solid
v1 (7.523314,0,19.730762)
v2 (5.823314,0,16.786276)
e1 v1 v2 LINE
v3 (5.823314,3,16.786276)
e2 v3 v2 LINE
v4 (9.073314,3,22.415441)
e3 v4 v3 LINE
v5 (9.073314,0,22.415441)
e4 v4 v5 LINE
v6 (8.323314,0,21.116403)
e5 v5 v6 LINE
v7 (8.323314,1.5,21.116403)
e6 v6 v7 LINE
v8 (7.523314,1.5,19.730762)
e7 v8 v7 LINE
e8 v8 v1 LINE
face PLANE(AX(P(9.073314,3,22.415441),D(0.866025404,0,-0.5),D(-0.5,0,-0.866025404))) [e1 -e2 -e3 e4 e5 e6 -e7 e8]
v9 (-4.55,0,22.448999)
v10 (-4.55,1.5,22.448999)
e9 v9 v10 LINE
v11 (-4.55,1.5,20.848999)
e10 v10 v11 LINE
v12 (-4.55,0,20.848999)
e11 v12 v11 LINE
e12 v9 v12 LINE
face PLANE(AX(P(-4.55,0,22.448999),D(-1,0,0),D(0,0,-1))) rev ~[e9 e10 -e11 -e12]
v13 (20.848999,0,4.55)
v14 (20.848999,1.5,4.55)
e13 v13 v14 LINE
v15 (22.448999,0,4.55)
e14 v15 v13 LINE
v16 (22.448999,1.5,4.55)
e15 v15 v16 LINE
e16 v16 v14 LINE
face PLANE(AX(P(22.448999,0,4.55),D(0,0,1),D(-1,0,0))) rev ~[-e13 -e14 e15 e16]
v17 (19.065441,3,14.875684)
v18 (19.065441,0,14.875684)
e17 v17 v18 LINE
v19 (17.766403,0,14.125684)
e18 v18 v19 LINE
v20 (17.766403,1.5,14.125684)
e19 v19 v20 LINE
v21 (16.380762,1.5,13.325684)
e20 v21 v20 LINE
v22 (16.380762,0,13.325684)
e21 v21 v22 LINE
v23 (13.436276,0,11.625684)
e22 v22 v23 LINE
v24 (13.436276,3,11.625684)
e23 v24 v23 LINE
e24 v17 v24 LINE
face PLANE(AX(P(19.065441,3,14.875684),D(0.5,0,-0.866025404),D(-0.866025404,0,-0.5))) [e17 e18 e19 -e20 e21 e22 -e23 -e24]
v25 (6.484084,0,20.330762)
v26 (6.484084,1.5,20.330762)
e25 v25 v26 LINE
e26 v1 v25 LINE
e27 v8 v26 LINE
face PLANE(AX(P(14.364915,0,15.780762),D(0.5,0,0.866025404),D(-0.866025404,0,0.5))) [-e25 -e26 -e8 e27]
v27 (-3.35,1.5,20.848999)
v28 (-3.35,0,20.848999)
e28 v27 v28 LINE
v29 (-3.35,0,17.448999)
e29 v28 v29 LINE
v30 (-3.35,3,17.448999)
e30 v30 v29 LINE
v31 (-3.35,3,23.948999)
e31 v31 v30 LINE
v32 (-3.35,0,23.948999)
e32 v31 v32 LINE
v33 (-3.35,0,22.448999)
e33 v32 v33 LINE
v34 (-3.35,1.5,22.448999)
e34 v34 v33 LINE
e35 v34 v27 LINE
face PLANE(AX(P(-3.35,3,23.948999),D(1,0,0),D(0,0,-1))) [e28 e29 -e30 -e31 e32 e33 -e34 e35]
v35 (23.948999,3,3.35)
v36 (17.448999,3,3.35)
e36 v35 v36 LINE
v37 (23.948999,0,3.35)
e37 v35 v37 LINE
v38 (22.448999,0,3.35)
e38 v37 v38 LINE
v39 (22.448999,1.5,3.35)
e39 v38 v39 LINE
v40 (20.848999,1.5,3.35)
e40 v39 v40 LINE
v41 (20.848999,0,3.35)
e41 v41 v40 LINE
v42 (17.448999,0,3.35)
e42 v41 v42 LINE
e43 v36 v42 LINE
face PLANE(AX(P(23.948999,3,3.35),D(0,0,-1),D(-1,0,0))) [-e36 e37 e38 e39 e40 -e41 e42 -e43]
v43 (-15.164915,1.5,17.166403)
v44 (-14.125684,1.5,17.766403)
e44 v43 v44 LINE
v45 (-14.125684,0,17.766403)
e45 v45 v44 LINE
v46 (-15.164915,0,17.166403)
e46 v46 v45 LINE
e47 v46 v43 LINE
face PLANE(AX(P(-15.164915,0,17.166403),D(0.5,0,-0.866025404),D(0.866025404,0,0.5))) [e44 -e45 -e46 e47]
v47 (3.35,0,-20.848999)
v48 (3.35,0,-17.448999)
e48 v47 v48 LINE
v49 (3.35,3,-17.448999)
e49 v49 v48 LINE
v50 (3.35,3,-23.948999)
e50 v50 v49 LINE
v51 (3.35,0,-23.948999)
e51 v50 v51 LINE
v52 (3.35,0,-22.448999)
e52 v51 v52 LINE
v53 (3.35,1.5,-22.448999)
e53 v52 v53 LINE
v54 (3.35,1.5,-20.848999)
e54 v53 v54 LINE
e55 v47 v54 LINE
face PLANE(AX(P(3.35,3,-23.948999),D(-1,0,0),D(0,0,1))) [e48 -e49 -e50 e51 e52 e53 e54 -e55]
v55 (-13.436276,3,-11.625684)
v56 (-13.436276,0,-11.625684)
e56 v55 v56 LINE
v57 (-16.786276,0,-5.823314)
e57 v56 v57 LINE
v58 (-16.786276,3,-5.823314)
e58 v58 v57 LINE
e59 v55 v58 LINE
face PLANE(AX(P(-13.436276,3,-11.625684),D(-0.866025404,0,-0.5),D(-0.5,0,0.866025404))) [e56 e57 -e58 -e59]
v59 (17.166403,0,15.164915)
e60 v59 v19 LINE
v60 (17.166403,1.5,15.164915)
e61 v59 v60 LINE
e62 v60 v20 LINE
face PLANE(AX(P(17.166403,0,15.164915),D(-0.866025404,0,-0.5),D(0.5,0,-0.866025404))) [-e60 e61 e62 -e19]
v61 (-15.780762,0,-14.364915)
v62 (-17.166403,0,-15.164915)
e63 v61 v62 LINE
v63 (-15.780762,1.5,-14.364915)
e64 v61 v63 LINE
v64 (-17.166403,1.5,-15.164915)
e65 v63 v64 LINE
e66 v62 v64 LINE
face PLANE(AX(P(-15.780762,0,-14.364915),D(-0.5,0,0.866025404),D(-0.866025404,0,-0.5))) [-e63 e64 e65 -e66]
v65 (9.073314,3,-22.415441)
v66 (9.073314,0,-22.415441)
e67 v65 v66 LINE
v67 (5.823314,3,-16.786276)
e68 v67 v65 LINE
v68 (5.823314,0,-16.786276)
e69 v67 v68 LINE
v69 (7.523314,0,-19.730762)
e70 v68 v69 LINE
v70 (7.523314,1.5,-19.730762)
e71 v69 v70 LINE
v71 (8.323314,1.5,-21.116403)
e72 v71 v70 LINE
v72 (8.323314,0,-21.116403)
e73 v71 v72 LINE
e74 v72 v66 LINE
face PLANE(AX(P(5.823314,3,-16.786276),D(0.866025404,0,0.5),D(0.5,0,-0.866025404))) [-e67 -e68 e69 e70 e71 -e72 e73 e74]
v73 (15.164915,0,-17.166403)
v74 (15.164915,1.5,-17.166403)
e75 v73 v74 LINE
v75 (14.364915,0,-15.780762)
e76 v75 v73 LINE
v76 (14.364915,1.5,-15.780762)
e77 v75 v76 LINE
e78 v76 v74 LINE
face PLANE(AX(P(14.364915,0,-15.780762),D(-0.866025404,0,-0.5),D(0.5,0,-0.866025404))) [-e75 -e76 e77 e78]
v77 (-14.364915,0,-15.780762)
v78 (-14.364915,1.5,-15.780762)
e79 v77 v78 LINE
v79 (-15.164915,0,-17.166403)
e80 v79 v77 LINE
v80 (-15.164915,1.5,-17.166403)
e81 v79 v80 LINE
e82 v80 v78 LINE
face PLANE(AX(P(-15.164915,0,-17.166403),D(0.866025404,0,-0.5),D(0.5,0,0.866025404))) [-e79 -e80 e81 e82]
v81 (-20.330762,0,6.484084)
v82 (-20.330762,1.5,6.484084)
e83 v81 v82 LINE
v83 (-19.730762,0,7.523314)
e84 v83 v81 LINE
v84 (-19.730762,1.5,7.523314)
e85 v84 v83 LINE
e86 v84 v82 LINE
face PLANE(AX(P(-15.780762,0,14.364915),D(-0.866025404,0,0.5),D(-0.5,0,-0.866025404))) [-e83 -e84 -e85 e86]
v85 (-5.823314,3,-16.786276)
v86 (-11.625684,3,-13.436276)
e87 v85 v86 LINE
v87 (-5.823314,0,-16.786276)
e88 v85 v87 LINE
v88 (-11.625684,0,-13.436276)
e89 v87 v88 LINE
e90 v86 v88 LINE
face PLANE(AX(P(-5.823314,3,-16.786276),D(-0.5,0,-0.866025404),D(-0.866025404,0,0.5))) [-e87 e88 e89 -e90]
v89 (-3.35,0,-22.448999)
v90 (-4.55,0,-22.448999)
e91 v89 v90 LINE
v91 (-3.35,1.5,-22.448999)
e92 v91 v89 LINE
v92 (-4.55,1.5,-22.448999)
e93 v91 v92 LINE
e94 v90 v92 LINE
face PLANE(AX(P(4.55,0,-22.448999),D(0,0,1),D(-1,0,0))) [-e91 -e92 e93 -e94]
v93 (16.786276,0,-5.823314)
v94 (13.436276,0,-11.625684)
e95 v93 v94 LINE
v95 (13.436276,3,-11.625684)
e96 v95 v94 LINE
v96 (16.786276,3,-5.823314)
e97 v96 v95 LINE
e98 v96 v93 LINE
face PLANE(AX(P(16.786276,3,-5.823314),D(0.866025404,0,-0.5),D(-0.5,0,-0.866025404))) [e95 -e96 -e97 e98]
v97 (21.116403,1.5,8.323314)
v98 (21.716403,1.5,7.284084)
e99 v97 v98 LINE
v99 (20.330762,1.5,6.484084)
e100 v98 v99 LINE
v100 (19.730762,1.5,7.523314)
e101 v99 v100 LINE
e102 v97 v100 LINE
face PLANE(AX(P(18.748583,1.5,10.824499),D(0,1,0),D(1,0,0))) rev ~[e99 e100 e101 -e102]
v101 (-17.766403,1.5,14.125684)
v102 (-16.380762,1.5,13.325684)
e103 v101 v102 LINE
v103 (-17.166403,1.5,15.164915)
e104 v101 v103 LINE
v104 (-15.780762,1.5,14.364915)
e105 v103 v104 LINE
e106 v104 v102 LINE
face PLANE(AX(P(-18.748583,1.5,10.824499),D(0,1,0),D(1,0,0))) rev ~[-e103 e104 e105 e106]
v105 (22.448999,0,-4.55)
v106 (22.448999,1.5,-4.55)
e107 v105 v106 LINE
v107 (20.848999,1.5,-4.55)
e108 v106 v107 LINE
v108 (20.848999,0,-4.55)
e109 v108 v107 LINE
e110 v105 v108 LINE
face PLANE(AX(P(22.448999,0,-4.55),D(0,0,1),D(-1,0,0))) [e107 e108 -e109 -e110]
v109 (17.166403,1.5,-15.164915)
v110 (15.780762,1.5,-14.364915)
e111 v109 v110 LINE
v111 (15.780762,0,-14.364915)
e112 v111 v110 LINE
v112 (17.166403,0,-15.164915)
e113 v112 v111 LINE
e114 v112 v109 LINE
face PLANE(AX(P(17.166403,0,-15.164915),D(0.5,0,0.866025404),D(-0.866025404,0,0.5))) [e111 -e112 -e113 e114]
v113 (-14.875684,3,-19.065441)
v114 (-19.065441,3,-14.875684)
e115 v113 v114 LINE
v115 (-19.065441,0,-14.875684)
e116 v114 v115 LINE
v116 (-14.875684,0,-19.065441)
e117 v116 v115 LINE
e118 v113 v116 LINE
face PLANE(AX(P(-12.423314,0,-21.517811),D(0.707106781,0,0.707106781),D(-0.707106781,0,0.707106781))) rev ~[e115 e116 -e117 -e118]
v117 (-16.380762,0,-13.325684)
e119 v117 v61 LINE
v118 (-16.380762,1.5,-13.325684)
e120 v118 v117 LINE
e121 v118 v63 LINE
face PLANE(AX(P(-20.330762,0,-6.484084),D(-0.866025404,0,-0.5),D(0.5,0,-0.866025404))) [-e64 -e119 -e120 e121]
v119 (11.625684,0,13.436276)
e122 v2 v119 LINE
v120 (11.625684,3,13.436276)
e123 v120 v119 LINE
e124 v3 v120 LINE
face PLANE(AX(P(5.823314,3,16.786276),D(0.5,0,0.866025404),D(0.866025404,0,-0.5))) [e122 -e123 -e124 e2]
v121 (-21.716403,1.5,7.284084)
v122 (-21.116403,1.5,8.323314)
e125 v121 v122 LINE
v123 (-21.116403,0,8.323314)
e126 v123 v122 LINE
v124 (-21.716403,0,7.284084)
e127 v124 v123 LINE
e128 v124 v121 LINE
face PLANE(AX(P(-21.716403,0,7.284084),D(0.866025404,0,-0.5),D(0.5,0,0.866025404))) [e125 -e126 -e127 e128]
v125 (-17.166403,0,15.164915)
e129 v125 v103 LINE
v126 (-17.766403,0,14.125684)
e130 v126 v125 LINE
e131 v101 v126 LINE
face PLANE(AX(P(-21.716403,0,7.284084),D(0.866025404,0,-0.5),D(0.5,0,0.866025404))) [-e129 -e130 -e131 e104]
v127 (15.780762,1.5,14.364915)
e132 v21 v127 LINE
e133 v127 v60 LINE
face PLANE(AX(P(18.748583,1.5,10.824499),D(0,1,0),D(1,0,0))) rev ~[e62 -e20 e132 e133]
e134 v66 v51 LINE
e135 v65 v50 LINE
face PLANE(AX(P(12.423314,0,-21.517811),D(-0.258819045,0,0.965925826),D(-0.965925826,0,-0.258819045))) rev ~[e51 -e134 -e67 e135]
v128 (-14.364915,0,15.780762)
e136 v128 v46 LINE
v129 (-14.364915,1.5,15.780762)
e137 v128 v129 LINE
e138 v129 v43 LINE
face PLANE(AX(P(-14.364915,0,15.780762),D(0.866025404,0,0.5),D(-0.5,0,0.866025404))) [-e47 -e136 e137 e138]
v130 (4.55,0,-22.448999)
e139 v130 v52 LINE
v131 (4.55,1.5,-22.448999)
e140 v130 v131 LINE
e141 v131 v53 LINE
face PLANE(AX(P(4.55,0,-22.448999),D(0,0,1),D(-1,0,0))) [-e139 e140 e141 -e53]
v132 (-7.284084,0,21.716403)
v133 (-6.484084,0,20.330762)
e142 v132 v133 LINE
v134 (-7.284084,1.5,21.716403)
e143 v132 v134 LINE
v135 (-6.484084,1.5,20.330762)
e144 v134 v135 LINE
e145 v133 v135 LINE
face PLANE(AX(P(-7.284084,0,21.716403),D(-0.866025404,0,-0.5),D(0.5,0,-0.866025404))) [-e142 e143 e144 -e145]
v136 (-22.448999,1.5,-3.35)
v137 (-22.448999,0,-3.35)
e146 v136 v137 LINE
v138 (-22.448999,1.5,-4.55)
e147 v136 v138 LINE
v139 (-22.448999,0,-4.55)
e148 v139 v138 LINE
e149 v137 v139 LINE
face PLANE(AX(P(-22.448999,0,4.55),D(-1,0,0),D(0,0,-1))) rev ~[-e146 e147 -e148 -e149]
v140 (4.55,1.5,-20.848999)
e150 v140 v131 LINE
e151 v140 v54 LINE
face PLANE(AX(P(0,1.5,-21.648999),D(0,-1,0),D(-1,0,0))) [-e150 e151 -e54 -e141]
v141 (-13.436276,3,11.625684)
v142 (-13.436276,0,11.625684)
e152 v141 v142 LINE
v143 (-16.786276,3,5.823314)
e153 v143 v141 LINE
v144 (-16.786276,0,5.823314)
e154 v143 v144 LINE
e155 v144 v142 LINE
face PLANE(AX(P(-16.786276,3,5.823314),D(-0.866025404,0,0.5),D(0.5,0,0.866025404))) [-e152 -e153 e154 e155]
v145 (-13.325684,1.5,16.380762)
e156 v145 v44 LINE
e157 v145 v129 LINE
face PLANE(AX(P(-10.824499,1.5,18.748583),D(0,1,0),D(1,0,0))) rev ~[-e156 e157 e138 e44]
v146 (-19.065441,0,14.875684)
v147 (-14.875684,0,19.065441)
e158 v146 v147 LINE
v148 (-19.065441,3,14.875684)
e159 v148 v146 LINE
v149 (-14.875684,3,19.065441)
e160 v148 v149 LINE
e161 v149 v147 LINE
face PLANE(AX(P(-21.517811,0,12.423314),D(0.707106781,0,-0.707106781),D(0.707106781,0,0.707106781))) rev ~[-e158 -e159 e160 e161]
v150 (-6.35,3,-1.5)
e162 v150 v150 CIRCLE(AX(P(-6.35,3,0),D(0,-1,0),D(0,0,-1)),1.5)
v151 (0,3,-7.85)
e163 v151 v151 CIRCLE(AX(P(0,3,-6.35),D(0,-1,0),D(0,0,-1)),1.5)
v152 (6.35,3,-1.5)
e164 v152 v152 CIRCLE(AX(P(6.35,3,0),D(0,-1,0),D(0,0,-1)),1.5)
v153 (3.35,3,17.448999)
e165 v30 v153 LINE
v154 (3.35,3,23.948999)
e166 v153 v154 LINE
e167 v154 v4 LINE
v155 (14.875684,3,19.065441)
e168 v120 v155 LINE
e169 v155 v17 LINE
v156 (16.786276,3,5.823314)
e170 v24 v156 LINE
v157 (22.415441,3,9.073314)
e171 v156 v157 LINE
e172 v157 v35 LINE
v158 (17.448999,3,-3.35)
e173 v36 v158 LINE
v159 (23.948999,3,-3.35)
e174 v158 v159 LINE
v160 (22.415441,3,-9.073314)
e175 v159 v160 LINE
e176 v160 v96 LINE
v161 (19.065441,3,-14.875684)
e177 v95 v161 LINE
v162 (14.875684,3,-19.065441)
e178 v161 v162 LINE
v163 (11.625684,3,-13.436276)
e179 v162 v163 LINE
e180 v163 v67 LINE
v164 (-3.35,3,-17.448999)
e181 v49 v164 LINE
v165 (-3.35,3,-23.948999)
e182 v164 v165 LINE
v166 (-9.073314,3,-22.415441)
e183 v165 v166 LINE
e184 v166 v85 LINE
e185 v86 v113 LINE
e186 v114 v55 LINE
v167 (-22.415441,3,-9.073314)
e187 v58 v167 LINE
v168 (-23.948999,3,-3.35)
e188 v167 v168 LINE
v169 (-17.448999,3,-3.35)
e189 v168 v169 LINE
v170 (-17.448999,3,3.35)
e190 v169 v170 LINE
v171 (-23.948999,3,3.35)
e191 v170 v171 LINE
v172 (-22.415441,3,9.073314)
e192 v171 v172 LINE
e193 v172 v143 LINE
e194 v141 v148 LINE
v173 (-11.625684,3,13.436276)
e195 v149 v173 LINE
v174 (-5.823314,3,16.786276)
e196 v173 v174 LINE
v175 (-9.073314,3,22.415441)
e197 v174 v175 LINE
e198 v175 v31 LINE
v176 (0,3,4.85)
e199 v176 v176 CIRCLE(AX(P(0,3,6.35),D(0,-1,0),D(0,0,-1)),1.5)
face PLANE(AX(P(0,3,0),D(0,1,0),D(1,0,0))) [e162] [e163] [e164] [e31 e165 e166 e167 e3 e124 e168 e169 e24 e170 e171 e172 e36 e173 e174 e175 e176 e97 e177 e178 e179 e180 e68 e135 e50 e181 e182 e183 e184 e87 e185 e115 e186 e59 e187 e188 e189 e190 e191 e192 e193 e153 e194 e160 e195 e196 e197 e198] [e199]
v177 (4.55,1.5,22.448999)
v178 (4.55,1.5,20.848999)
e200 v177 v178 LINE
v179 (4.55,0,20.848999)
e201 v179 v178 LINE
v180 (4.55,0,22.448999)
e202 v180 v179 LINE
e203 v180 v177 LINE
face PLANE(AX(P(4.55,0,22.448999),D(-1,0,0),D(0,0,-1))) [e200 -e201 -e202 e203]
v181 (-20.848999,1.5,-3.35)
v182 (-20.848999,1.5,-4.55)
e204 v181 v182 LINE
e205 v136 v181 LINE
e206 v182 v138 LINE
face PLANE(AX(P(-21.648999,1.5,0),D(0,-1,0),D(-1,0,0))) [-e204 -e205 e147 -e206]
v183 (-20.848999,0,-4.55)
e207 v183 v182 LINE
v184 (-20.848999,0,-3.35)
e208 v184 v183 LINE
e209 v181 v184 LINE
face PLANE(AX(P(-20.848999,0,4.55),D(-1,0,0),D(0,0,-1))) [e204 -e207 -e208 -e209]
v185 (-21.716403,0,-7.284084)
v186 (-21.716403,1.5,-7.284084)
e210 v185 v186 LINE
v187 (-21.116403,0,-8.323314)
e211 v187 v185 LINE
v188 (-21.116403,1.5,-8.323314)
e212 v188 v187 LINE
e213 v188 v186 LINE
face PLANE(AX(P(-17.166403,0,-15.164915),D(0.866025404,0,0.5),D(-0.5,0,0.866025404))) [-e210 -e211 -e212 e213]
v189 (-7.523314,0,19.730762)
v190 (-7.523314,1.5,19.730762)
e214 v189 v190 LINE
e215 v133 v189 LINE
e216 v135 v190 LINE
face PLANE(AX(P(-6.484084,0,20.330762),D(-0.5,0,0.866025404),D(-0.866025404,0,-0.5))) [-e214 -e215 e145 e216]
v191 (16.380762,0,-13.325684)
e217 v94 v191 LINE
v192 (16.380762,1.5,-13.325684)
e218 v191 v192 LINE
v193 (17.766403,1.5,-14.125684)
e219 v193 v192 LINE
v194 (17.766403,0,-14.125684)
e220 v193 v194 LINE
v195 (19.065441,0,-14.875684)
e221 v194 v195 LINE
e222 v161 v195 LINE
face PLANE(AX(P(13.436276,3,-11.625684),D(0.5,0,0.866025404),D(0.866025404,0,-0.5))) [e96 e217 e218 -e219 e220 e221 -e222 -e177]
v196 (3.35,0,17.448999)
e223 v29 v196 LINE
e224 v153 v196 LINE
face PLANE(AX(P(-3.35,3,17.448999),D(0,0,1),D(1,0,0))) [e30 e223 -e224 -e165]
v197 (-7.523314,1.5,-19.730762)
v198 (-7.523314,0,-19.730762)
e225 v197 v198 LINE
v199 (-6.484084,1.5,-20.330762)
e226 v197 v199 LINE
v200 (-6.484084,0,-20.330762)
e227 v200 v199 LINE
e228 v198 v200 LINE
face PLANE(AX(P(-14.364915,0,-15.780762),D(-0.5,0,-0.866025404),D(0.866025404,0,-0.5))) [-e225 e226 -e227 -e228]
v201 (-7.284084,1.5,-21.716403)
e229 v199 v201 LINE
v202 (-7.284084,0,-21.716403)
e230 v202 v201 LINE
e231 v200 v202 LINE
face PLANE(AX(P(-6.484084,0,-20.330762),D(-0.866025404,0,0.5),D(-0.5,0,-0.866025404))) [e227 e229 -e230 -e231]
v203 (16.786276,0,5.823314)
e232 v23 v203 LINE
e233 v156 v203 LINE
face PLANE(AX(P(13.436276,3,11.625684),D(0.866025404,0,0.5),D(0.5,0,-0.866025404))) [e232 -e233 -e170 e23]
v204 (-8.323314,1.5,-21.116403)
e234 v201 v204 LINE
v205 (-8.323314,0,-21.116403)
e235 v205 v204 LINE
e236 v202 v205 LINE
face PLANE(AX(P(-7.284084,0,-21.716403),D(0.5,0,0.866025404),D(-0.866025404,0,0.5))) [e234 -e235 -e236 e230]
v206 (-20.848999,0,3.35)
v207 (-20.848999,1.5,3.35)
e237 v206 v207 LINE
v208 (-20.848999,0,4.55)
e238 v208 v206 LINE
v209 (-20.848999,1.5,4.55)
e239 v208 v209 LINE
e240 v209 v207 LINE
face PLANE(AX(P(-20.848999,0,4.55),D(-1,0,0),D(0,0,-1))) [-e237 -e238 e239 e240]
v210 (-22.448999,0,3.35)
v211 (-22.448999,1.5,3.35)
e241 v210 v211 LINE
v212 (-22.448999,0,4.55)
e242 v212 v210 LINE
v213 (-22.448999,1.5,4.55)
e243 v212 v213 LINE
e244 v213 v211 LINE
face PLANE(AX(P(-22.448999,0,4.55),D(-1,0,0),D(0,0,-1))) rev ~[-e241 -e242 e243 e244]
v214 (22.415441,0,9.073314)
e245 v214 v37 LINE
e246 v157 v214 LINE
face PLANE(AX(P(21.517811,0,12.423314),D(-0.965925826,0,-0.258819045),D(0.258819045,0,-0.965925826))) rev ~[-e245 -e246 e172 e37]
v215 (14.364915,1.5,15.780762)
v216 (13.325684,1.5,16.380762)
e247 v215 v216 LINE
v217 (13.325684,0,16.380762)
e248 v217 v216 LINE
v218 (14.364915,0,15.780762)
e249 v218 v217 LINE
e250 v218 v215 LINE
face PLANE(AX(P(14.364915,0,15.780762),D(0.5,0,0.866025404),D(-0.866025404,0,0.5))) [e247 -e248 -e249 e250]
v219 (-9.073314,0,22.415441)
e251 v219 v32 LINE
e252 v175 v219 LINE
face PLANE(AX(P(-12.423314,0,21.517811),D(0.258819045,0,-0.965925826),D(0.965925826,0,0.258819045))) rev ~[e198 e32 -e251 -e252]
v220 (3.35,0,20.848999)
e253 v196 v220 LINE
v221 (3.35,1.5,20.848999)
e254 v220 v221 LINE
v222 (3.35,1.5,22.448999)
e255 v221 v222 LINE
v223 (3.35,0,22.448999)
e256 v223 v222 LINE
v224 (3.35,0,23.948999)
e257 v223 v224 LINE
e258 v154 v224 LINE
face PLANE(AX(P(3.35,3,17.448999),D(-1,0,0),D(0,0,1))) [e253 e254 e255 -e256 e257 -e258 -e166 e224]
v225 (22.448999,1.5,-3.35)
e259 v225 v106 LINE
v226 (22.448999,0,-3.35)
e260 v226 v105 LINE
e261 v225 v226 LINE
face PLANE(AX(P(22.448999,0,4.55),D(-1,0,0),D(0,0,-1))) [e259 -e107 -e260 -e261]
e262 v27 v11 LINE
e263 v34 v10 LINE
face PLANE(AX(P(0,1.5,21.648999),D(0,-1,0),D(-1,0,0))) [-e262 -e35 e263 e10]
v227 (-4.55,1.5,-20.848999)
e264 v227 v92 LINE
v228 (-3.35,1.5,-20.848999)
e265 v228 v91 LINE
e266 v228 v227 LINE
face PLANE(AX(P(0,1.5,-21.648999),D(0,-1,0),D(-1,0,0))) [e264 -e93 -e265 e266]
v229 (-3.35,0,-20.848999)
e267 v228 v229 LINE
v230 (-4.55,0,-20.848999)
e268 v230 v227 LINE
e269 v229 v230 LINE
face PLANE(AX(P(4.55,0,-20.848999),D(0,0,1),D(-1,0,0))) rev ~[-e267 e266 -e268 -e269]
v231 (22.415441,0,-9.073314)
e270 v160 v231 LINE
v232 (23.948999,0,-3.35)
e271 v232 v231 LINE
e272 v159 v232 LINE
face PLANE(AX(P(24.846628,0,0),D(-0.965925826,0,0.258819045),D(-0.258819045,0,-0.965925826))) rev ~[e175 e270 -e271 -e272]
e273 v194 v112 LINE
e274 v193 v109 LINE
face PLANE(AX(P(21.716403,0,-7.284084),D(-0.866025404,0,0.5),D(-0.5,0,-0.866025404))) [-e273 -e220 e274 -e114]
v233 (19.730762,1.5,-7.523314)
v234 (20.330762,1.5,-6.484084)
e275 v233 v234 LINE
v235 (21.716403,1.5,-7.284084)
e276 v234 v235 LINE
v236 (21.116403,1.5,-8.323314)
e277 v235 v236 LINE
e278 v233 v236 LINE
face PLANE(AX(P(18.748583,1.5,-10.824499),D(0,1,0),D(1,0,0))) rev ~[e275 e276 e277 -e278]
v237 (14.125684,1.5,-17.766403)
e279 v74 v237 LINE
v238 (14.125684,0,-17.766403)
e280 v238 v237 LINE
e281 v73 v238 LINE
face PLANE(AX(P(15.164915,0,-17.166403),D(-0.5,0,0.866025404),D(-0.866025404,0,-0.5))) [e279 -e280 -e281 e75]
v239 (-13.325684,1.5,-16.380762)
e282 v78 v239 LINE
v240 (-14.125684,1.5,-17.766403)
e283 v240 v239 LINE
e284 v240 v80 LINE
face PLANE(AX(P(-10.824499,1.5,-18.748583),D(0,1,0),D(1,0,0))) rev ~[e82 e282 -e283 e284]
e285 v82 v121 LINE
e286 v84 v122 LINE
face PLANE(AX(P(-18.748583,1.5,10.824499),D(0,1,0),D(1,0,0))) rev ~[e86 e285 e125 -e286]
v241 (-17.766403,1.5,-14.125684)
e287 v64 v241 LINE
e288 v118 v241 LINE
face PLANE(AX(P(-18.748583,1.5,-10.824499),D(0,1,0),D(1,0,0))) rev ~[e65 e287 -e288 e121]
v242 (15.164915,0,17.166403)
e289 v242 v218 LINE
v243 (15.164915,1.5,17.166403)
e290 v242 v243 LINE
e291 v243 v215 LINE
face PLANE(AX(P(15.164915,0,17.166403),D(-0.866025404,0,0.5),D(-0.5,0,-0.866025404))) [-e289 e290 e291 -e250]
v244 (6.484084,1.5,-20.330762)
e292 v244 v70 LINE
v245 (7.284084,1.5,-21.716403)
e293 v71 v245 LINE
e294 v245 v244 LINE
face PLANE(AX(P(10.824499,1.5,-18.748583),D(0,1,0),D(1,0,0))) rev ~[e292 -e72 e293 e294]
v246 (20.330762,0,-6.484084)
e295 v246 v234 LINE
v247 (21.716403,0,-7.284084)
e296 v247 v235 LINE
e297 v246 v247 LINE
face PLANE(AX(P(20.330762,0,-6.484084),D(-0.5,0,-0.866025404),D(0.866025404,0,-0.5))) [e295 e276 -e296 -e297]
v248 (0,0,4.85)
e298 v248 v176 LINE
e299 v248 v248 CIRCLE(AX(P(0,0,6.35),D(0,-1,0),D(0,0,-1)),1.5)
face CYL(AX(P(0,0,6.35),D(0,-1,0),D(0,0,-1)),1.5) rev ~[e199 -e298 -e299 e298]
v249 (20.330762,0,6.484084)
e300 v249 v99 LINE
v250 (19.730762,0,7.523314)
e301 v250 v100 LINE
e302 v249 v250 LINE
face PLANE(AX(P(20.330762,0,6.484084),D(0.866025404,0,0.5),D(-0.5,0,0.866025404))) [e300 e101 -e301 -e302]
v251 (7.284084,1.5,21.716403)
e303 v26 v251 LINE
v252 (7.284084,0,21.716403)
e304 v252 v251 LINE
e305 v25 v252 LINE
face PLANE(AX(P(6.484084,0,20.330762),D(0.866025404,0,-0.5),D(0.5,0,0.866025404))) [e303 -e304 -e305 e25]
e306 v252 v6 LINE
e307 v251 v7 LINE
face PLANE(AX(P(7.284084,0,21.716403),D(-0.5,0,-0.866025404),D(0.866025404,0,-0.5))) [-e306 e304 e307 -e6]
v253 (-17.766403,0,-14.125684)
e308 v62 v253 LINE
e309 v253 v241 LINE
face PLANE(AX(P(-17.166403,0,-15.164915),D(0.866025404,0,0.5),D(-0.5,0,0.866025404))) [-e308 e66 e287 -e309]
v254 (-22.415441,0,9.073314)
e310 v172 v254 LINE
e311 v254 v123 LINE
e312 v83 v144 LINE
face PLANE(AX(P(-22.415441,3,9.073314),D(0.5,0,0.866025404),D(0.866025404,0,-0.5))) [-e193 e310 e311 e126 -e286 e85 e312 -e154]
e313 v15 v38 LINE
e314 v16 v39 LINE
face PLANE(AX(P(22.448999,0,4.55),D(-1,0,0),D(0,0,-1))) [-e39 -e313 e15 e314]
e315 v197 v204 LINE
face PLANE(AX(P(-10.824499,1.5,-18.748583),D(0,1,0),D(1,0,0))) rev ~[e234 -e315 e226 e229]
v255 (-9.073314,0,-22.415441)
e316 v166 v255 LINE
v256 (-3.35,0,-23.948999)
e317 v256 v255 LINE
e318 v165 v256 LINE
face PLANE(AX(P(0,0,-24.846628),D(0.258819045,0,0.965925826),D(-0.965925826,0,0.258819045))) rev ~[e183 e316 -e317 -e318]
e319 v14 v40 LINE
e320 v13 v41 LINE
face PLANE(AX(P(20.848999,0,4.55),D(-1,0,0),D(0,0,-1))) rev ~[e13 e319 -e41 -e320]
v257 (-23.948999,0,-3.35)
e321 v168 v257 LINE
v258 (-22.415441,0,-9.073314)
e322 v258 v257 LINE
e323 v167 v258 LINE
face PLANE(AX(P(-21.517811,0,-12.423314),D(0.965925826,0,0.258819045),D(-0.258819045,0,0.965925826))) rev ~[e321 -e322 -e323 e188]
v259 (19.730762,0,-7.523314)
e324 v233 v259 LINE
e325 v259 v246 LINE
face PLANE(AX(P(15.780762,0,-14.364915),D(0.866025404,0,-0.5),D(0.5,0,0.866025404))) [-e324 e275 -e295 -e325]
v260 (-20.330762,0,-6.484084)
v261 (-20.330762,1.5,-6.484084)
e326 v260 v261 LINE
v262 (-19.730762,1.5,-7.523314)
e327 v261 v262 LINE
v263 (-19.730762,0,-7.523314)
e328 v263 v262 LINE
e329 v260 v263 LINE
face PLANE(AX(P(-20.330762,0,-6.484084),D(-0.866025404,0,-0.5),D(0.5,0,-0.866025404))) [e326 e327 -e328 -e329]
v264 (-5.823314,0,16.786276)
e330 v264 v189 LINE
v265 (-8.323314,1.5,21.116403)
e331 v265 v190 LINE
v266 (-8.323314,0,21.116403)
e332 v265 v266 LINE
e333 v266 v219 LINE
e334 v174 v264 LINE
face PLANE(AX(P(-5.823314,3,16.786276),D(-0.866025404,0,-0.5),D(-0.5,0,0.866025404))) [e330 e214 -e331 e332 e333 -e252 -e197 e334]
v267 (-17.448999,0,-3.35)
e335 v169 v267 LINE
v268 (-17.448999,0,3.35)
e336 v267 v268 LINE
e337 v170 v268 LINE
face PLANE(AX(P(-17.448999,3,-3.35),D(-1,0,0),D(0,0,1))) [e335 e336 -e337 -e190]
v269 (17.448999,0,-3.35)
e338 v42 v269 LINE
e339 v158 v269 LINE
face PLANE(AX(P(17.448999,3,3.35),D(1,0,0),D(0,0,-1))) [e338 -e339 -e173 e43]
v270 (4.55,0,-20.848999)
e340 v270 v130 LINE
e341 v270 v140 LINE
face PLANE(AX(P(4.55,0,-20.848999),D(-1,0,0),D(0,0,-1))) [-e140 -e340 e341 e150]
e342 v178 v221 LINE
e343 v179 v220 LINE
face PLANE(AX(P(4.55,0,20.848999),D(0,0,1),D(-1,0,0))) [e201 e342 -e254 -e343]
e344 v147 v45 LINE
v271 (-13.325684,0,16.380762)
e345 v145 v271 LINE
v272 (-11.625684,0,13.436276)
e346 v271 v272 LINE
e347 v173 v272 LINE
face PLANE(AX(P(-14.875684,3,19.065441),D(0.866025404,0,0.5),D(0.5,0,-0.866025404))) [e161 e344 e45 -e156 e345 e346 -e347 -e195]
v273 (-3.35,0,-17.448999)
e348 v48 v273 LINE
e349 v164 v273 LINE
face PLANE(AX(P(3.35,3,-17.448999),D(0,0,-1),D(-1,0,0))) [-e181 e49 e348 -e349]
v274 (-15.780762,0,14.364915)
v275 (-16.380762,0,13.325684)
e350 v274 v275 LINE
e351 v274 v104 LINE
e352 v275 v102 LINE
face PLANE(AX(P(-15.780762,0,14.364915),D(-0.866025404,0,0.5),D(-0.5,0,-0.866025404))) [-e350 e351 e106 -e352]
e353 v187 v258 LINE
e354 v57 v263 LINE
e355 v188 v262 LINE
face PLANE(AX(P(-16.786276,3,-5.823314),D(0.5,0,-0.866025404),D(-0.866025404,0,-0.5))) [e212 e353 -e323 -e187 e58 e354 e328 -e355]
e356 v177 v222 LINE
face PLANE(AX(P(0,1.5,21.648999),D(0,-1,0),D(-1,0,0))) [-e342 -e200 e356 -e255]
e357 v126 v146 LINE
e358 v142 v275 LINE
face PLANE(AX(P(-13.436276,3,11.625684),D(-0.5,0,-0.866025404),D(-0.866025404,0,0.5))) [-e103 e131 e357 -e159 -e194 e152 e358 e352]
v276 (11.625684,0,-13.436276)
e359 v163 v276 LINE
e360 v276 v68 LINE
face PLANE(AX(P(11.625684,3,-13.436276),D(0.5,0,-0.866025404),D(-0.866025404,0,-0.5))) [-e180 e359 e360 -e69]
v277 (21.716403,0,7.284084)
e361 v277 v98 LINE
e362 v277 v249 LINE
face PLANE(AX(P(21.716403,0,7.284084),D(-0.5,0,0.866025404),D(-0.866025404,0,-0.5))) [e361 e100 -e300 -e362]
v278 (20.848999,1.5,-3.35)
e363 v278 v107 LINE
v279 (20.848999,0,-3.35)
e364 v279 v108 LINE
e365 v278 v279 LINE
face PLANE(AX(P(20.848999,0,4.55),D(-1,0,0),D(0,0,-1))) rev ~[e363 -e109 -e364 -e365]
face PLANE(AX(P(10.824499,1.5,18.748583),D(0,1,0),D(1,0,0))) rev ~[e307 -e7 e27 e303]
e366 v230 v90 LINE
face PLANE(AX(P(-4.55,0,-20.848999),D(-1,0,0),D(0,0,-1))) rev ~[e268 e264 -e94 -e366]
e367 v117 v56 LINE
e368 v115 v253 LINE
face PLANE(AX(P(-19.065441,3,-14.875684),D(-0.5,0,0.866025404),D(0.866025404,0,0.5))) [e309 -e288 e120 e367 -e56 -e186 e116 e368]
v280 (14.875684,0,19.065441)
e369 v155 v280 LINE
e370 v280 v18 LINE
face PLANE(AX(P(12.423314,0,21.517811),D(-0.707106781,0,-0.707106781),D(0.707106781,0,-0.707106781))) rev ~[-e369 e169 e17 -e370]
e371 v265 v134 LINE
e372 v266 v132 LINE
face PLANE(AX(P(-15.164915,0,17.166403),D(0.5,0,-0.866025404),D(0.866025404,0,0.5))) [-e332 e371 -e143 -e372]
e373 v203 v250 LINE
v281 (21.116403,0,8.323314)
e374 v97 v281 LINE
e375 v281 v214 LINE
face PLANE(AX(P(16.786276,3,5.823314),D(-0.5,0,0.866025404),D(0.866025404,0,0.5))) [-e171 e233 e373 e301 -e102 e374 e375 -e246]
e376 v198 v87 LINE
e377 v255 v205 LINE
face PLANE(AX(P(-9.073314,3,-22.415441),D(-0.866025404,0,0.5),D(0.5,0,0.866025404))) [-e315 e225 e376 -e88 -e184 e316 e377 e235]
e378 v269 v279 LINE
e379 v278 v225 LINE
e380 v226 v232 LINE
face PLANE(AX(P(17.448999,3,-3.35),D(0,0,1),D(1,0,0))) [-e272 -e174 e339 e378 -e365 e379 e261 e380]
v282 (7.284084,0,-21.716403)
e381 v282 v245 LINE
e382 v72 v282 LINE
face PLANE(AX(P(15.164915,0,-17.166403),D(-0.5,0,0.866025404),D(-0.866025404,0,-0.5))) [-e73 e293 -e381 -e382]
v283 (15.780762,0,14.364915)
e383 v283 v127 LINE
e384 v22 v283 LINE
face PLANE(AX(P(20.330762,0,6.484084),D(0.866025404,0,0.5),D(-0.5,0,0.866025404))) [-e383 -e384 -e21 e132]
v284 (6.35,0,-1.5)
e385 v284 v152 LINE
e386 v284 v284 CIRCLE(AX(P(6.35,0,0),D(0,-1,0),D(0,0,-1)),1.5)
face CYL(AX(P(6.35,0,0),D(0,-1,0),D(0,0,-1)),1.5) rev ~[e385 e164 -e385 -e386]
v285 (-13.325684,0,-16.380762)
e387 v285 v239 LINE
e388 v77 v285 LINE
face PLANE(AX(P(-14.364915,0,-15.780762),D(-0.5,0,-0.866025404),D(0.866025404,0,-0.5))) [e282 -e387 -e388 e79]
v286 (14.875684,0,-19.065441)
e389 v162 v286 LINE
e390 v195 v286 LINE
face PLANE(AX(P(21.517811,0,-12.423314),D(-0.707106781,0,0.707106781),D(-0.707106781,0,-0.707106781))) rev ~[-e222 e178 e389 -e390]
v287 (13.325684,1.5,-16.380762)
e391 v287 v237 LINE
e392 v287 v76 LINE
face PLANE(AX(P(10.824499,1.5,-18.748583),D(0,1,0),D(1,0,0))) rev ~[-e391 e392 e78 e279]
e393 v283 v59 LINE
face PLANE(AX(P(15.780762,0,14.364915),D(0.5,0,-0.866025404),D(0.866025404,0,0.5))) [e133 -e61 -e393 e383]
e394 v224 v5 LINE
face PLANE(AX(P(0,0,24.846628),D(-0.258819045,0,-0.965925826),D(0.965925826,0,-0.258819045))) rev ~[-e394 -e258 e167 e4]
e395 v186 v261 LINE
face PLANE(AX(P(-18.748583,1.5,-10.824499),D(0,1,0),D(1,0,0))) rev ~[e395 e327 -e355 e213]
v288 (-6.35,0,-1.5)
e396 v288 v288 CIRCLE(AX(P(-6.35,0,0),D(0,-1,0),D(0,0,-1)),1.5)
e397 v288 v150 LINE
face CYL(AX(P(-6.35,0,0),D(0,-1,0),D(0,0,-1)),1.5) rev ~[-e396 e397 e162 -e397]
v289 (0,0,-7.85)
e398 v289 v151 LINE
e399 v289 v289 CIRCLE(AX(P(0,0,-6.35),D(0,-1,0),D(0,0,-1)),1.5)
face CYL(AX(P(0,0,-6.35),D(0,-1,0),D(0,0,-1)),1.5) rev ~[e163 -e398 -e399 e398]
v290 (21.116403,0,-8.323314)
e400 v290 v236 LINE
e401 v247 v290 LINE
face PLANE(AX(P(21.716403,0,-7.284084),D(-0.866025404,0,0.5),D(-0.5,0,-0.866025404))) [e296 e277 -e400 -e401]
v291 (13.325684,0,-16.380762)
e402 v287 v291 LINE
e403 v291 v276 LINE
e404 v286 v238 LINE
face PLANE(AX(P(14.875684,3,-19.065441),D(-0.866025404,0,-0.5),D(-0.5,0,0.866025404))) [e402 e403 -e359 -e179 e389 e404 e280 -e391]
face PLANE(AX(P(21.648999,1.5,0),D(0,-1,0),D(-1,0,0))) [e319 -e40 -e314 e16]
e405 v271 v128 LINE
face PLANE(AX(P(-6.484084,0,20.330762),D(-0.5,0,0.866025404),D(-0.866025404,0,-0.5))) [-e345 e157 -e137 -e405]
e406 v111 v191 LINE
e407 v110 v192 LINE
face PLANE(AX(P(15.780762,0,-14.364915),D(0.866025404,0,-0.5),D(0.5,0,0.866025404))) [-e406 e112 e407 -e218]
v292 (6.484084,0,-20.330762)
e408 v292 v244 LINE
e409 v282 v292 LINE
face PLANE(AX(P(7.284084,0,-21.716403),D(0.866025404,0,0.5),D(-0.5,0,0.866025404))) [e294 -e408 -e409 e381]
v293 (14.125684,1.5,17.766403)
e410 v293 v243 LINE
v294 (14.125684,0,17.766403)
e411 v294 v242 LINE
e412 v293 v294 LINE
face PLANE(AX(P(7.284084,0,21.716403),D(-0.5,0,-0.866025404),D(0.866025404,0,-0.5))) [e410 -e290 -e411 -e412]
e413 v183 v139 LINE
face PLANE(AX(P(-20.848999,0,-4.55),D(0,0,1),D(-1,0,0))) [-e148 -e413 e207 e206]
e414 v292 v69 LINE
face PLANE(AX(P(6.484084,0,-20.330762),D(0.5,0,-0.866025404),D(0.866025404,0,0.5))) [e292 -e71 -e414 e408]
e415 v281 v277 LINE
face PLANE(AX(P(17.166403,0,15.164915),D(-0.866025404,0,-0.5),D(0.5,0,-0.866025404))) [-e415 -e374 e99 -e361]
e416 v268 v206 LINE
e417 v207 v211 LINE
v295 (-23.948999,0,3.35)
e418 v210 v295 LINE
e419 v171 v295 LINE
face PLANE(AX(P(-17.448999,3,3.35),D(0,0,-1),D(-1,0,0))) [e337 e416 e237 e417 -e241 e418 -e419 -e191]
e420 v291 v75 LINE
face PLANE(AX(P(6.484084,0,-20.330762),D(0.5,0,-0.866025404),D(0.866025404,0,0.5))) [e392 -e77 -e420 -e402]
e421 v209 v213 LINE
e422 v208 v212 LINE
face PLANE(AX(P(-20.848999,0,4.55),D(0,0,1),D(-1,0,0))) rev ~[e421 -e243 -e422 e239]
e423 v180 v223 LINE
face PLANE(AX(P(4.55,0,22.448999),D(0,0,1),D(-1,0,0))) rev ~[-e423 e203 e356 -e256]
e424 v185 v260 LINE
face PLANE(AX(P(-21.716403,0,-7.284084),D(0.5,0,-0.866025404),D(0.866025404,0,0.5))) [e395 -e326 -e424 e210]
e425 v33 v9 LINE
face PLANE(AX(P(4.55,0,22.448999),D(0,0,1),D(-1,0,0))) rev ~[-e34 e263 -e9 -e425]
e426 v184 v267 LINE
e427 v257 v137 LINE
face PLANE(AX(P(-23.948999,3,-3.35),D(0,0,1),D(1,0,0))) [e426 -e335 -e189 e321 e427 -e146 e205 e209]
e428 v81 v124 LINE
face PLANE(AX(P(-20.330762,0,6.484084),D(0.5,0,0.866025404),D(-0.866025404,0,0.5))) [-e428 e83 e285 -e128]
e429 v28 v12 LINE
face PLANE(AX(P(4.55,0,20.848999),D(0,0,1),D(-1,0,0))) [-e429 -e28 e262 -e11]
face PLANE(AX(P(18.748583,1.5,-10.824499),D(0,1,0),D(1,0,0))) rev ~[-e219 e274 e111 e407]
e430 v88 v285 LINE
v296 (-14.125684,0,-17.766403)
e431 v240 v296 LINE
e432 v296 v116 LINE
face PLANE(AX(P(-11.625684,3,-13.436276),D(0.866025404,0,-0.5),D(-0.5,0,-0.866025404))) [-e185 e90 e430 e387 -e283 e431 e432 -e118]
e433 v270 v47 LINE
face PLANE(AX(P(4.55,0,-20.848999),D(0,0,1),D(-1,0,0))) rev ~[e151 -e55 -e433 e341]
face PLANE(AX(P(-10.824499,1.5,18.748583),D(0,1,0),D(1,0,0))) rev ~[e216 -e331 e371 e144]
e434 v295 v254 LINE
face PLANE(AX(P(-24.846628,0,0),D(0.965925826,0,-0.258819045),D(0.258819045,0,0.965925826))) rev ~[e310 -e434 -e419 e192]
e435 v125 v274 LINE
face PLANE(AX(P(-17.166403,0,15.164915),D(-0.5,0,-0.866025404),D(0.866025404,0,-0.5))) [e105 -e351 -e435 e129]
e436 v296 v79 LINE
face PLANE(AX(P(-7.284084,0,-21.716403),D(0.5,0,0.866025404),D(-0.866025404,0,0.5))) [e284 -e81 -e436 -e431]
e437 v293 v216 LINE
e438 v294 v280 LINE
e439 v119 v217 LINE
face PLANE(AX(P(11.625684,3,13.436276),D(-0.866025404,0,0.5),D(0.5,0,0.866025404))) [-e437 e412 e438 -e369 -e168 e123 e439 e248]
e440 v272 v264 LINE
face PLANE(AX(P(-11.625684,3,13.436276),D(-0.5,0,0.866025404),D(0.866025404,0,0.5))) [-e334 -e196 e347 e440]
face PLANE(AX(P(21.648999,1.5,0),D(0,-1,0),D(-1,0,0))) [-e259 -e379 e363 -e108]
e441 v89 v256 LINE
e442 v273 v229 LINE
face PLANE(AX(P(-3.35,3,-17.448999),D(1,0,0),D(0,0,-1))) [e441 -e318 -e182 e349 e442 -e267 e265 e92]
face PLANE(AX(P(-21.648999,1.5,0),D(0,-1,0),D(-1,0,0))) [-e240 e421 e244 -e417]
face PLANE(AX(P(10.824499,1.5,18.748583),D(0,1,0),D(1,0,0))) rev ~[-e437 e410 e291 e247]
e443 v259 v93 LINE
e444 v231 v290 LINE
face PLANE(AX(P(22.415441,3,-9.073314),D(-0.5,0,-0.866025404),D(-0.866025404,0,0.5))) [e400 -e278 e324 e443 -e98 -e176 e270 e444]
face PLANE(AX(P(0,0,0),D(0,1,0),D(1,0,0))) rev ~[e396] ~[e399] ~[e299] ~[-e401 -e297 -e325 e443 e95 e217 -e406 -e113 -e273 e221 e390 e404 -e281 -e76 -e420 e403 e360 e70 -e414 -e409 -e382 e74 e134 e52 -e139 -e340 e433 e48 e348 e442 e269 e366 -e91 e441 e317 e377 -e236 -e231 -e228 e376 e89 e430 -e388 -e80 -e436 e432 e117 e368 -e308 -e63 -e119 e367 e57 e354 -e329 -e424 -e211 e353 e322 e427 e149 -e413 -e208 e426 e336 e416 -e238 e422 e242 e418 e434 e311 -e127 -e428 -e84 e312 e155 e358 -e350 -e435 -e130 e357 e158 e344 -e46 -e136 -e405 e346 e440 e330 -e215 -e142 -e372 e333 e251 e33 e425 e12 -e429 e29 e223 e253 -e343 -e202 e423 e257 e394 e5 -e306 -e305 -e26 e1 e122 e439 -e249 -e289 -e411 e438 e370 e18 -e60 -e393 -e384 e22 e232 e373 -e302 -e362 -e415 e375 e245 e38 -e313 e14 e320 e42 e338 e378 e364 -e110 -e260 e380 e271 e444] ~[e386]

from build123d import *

# Parameters (mm, degrees)
BOSS_EXTRUDE1_DEPTH = 3
CUT_EXTRUDE1_DEPTH  = 3
SKETCH4_W           = 9.1
SKETCH4_H           = 1.6
SKETCH4_W_2         = 1.6
SKETCH4_H_2         = 9.1
CUT_EXTRUDE2_DEPTH  = 1.5
SKETCH7_R           = 1.5
CUT_EXTRUDE4_DEPTH  = 3


with BuildPart() as part:
    # Sketch2 → Boss-Extrude1 (new body)
    with BuildSketch(Plane(origin=(0, 0, 0), x_dir=(1, 0, 0), z_dir=(0, 1, 0))):
        Polygon((0, 24.84662833), (-12.423314165, 21.517811332), (-21.517811332, 12.423314165), (-24.84662833, 0), (-21.517811332, -12.423314165), (-12.423314165, -21.517811332), (0, -24.84662833), (12.423314165, -21.517811332), (21.517811332, -12.423314165), (24.84662833, 0), (21.517811332, 12.423314165), (12.423314165, 21.517811332), align=None)
    extrude(amount=BOSS_EXTRUDE1_DEPTH)

    # Sketch3 → Cut-Extrude1 (cut)
    with BuildSketch(Plane(origin=(0, 3, 0), x_dir=(1, 0, 0), z_dir=(0, 1, 0))):
        Polygon((-3.35, 23.948998535), (0, 24.84662833), (3.35, 23.948998535), (3.35, 17.448998535), (-3.35, 17.448998535), align=None)
        Polygon((5.823314165, 16.786276002), (9.073314165, 22.415441127), (12.423314165, 21.517811332), (14.87568437, 19.065441127), (11.62568437, 13.436276002), align=None)
        Polygon((13.436276002, 11.62568437), (19.065441127, 14.87568437), (21.517811332, 12.423314165), (22.415441127, 9.073314165), (16.786276002, 5.823314165), align=None)
        Polygon((17.448998535, 3.35), (23.948998535, 3.35), (24.84662833, 0), (23.948998535, -3.35), (17.448998535, -3.35), align=None)
        Polygon((16.786276002, -5.823314165), (22.415441127, -9.073314165), (21.517811332, -12.423314165), (19.065441127, -14.87568437), (13.436276002, -11.62568437), align=None)
        Polygon((11.62568437, -13.436276002), (14.87568437, -19.065441127), (12.423314165, -21.517811332), (9.073314165, -22.415441127), (5.823314165, -16.786276002), align=None)
        Polygon((3.35, -17.448998535), (3.35, -23.948998535), (0, -24.84662833), (-3.35, -23.948998535), (-3.35, -17.448998535), align=None)
        Polygon((-5.823314165, -16.786276002), (-9.073314165, -22.415441127), (-12.423314165, -21.517811332), (-14.87568437, -19.065441127), (-11.62568437, -13.436276002), align=None)
        Polygon((-13.436276002, -11.62568437), (-19.065441127, -14.87568437), (-21.517811332, -12.423314165), (-22.415441127, -9.073314165), (-16.786276002, -5.823314165), align=None)
        Polygon((-17.448998535, -3.35), (-23.948998535, -3.35), (-24.84662833, 0), (-23.948998535, 3.35), (-17.448998535, 3.35), align=None)
        Polygon((-16.786276002, 5.823314165), (-22.415441127, 9.073314165), (-21.517811332, 12.423314165), (-19.065441127, 14.87568437), (-13.436276002, 11.62568437), align=None)
        Polygon((-11.62568437, 13.436276002), (-14.87568437, 19.065441127), (-12.423314165, 21.517811332), (-9.073314165, 22.415441127), (-5.823314165, 16.786276002), align=None)
    extrude(amount=-CUT_EXTRUDE1_DEPTH, mode=Mode.SUBTRACT)

    # Sketch4 → Cut-Extrude2 (cut)
    with BuildSketch(Plane(origin=(0, 0, 0), x_dir=(-1, 0, 0), z_dir=(0, -1, 0))):
        with Locations((0, -21.648998535)):
            Rectangle(SKETCH4_W, SKETCH4_H)
        Polygon((-6.48408368, -20.330762375), (-7.28408368, -21.716403021), (-15.164914855, -17.166403021), (-14.364914855, -15.780762375), align=None)
        Polygon((-15.780762375, -14.364914855), (-17.166403021, -15.164914855), (-21.716403021, -7.28408368), (-20.330762375, -6.48408368), align=None)
        with Locations((-21.648998535, 0)):
            Rectangle(SKETCH4_W_2, SKETCH4_H_2)
        Polygon((-20.330762375, 6.48408368), (-21.716403021, 7.28408368), (-17.166403021, 15.164914855), (-15.780762375, 14.364914855), align=None)
        Polygon((-14.364914855, 15.780762375), (-15.164914855, 17.166403021), (-7.28408368, 21.716403021), (-6.48408368, 20.330762375), align=None)
        with Locations((0, 21.648998535)):
            Rectangle(SKETCH4_W, SKETCH4_H)
        Polygon((6.48408368, 20.330762375), (7.28408368, 21.716403021), (15.164914855, 17.166403021), (14.364914855, 15.780762375), align=None)
        Polygon((15.780762375, 14.364914855), (17.166403021, 15.164914855), (21.716403021, 7.28408368), (20.330762375, 6.48408368), align=None)
        with Locations((21.648998535, 0)):
            Rectangle(SKETCH4_W_2, SKETCH4_H_2)
        Polygon((20.330762375, -6.48408368), (21.716403021, -7.28408368), (17.166403021, -15.164914855), (15.780762375, -14.364914855), align=None)
        Polygon((14.364914855, -15.780762375), (15.164914855, -17.166403021), (7.28408368, -21.716403021), (6.48408368, -20.330762375), align=None)
    extrude(amount=-CUT_EXTRUDE2_DEPTH, mode=Mode.SUBTRACT)

    # Sketch7 → Cut-Extrude4 (cut)
    with BuildSketch(Plane.XZ):
        with Locations(Location((0, 6.35, 0), (0, 0, 270))):
            Circle(SKETCH7_R)
        with Locations(Location((6.35, 0, 0), (0, 0, 270))):
            Circle(SKETCH7_R)
        with Locations(Location((0, -6.35, 0), (0, 0, 270))):
            Circle(SKETCH7_R)
        with Locations(Location((-6.35, 0, 0), (0, 0, 270))):
            Circle(SKETCH7_R)
    extrude(amount=-CUT_EXTRUDE4_DEPTH, mode=Mode.SUBTRACT)


solid = part.part
